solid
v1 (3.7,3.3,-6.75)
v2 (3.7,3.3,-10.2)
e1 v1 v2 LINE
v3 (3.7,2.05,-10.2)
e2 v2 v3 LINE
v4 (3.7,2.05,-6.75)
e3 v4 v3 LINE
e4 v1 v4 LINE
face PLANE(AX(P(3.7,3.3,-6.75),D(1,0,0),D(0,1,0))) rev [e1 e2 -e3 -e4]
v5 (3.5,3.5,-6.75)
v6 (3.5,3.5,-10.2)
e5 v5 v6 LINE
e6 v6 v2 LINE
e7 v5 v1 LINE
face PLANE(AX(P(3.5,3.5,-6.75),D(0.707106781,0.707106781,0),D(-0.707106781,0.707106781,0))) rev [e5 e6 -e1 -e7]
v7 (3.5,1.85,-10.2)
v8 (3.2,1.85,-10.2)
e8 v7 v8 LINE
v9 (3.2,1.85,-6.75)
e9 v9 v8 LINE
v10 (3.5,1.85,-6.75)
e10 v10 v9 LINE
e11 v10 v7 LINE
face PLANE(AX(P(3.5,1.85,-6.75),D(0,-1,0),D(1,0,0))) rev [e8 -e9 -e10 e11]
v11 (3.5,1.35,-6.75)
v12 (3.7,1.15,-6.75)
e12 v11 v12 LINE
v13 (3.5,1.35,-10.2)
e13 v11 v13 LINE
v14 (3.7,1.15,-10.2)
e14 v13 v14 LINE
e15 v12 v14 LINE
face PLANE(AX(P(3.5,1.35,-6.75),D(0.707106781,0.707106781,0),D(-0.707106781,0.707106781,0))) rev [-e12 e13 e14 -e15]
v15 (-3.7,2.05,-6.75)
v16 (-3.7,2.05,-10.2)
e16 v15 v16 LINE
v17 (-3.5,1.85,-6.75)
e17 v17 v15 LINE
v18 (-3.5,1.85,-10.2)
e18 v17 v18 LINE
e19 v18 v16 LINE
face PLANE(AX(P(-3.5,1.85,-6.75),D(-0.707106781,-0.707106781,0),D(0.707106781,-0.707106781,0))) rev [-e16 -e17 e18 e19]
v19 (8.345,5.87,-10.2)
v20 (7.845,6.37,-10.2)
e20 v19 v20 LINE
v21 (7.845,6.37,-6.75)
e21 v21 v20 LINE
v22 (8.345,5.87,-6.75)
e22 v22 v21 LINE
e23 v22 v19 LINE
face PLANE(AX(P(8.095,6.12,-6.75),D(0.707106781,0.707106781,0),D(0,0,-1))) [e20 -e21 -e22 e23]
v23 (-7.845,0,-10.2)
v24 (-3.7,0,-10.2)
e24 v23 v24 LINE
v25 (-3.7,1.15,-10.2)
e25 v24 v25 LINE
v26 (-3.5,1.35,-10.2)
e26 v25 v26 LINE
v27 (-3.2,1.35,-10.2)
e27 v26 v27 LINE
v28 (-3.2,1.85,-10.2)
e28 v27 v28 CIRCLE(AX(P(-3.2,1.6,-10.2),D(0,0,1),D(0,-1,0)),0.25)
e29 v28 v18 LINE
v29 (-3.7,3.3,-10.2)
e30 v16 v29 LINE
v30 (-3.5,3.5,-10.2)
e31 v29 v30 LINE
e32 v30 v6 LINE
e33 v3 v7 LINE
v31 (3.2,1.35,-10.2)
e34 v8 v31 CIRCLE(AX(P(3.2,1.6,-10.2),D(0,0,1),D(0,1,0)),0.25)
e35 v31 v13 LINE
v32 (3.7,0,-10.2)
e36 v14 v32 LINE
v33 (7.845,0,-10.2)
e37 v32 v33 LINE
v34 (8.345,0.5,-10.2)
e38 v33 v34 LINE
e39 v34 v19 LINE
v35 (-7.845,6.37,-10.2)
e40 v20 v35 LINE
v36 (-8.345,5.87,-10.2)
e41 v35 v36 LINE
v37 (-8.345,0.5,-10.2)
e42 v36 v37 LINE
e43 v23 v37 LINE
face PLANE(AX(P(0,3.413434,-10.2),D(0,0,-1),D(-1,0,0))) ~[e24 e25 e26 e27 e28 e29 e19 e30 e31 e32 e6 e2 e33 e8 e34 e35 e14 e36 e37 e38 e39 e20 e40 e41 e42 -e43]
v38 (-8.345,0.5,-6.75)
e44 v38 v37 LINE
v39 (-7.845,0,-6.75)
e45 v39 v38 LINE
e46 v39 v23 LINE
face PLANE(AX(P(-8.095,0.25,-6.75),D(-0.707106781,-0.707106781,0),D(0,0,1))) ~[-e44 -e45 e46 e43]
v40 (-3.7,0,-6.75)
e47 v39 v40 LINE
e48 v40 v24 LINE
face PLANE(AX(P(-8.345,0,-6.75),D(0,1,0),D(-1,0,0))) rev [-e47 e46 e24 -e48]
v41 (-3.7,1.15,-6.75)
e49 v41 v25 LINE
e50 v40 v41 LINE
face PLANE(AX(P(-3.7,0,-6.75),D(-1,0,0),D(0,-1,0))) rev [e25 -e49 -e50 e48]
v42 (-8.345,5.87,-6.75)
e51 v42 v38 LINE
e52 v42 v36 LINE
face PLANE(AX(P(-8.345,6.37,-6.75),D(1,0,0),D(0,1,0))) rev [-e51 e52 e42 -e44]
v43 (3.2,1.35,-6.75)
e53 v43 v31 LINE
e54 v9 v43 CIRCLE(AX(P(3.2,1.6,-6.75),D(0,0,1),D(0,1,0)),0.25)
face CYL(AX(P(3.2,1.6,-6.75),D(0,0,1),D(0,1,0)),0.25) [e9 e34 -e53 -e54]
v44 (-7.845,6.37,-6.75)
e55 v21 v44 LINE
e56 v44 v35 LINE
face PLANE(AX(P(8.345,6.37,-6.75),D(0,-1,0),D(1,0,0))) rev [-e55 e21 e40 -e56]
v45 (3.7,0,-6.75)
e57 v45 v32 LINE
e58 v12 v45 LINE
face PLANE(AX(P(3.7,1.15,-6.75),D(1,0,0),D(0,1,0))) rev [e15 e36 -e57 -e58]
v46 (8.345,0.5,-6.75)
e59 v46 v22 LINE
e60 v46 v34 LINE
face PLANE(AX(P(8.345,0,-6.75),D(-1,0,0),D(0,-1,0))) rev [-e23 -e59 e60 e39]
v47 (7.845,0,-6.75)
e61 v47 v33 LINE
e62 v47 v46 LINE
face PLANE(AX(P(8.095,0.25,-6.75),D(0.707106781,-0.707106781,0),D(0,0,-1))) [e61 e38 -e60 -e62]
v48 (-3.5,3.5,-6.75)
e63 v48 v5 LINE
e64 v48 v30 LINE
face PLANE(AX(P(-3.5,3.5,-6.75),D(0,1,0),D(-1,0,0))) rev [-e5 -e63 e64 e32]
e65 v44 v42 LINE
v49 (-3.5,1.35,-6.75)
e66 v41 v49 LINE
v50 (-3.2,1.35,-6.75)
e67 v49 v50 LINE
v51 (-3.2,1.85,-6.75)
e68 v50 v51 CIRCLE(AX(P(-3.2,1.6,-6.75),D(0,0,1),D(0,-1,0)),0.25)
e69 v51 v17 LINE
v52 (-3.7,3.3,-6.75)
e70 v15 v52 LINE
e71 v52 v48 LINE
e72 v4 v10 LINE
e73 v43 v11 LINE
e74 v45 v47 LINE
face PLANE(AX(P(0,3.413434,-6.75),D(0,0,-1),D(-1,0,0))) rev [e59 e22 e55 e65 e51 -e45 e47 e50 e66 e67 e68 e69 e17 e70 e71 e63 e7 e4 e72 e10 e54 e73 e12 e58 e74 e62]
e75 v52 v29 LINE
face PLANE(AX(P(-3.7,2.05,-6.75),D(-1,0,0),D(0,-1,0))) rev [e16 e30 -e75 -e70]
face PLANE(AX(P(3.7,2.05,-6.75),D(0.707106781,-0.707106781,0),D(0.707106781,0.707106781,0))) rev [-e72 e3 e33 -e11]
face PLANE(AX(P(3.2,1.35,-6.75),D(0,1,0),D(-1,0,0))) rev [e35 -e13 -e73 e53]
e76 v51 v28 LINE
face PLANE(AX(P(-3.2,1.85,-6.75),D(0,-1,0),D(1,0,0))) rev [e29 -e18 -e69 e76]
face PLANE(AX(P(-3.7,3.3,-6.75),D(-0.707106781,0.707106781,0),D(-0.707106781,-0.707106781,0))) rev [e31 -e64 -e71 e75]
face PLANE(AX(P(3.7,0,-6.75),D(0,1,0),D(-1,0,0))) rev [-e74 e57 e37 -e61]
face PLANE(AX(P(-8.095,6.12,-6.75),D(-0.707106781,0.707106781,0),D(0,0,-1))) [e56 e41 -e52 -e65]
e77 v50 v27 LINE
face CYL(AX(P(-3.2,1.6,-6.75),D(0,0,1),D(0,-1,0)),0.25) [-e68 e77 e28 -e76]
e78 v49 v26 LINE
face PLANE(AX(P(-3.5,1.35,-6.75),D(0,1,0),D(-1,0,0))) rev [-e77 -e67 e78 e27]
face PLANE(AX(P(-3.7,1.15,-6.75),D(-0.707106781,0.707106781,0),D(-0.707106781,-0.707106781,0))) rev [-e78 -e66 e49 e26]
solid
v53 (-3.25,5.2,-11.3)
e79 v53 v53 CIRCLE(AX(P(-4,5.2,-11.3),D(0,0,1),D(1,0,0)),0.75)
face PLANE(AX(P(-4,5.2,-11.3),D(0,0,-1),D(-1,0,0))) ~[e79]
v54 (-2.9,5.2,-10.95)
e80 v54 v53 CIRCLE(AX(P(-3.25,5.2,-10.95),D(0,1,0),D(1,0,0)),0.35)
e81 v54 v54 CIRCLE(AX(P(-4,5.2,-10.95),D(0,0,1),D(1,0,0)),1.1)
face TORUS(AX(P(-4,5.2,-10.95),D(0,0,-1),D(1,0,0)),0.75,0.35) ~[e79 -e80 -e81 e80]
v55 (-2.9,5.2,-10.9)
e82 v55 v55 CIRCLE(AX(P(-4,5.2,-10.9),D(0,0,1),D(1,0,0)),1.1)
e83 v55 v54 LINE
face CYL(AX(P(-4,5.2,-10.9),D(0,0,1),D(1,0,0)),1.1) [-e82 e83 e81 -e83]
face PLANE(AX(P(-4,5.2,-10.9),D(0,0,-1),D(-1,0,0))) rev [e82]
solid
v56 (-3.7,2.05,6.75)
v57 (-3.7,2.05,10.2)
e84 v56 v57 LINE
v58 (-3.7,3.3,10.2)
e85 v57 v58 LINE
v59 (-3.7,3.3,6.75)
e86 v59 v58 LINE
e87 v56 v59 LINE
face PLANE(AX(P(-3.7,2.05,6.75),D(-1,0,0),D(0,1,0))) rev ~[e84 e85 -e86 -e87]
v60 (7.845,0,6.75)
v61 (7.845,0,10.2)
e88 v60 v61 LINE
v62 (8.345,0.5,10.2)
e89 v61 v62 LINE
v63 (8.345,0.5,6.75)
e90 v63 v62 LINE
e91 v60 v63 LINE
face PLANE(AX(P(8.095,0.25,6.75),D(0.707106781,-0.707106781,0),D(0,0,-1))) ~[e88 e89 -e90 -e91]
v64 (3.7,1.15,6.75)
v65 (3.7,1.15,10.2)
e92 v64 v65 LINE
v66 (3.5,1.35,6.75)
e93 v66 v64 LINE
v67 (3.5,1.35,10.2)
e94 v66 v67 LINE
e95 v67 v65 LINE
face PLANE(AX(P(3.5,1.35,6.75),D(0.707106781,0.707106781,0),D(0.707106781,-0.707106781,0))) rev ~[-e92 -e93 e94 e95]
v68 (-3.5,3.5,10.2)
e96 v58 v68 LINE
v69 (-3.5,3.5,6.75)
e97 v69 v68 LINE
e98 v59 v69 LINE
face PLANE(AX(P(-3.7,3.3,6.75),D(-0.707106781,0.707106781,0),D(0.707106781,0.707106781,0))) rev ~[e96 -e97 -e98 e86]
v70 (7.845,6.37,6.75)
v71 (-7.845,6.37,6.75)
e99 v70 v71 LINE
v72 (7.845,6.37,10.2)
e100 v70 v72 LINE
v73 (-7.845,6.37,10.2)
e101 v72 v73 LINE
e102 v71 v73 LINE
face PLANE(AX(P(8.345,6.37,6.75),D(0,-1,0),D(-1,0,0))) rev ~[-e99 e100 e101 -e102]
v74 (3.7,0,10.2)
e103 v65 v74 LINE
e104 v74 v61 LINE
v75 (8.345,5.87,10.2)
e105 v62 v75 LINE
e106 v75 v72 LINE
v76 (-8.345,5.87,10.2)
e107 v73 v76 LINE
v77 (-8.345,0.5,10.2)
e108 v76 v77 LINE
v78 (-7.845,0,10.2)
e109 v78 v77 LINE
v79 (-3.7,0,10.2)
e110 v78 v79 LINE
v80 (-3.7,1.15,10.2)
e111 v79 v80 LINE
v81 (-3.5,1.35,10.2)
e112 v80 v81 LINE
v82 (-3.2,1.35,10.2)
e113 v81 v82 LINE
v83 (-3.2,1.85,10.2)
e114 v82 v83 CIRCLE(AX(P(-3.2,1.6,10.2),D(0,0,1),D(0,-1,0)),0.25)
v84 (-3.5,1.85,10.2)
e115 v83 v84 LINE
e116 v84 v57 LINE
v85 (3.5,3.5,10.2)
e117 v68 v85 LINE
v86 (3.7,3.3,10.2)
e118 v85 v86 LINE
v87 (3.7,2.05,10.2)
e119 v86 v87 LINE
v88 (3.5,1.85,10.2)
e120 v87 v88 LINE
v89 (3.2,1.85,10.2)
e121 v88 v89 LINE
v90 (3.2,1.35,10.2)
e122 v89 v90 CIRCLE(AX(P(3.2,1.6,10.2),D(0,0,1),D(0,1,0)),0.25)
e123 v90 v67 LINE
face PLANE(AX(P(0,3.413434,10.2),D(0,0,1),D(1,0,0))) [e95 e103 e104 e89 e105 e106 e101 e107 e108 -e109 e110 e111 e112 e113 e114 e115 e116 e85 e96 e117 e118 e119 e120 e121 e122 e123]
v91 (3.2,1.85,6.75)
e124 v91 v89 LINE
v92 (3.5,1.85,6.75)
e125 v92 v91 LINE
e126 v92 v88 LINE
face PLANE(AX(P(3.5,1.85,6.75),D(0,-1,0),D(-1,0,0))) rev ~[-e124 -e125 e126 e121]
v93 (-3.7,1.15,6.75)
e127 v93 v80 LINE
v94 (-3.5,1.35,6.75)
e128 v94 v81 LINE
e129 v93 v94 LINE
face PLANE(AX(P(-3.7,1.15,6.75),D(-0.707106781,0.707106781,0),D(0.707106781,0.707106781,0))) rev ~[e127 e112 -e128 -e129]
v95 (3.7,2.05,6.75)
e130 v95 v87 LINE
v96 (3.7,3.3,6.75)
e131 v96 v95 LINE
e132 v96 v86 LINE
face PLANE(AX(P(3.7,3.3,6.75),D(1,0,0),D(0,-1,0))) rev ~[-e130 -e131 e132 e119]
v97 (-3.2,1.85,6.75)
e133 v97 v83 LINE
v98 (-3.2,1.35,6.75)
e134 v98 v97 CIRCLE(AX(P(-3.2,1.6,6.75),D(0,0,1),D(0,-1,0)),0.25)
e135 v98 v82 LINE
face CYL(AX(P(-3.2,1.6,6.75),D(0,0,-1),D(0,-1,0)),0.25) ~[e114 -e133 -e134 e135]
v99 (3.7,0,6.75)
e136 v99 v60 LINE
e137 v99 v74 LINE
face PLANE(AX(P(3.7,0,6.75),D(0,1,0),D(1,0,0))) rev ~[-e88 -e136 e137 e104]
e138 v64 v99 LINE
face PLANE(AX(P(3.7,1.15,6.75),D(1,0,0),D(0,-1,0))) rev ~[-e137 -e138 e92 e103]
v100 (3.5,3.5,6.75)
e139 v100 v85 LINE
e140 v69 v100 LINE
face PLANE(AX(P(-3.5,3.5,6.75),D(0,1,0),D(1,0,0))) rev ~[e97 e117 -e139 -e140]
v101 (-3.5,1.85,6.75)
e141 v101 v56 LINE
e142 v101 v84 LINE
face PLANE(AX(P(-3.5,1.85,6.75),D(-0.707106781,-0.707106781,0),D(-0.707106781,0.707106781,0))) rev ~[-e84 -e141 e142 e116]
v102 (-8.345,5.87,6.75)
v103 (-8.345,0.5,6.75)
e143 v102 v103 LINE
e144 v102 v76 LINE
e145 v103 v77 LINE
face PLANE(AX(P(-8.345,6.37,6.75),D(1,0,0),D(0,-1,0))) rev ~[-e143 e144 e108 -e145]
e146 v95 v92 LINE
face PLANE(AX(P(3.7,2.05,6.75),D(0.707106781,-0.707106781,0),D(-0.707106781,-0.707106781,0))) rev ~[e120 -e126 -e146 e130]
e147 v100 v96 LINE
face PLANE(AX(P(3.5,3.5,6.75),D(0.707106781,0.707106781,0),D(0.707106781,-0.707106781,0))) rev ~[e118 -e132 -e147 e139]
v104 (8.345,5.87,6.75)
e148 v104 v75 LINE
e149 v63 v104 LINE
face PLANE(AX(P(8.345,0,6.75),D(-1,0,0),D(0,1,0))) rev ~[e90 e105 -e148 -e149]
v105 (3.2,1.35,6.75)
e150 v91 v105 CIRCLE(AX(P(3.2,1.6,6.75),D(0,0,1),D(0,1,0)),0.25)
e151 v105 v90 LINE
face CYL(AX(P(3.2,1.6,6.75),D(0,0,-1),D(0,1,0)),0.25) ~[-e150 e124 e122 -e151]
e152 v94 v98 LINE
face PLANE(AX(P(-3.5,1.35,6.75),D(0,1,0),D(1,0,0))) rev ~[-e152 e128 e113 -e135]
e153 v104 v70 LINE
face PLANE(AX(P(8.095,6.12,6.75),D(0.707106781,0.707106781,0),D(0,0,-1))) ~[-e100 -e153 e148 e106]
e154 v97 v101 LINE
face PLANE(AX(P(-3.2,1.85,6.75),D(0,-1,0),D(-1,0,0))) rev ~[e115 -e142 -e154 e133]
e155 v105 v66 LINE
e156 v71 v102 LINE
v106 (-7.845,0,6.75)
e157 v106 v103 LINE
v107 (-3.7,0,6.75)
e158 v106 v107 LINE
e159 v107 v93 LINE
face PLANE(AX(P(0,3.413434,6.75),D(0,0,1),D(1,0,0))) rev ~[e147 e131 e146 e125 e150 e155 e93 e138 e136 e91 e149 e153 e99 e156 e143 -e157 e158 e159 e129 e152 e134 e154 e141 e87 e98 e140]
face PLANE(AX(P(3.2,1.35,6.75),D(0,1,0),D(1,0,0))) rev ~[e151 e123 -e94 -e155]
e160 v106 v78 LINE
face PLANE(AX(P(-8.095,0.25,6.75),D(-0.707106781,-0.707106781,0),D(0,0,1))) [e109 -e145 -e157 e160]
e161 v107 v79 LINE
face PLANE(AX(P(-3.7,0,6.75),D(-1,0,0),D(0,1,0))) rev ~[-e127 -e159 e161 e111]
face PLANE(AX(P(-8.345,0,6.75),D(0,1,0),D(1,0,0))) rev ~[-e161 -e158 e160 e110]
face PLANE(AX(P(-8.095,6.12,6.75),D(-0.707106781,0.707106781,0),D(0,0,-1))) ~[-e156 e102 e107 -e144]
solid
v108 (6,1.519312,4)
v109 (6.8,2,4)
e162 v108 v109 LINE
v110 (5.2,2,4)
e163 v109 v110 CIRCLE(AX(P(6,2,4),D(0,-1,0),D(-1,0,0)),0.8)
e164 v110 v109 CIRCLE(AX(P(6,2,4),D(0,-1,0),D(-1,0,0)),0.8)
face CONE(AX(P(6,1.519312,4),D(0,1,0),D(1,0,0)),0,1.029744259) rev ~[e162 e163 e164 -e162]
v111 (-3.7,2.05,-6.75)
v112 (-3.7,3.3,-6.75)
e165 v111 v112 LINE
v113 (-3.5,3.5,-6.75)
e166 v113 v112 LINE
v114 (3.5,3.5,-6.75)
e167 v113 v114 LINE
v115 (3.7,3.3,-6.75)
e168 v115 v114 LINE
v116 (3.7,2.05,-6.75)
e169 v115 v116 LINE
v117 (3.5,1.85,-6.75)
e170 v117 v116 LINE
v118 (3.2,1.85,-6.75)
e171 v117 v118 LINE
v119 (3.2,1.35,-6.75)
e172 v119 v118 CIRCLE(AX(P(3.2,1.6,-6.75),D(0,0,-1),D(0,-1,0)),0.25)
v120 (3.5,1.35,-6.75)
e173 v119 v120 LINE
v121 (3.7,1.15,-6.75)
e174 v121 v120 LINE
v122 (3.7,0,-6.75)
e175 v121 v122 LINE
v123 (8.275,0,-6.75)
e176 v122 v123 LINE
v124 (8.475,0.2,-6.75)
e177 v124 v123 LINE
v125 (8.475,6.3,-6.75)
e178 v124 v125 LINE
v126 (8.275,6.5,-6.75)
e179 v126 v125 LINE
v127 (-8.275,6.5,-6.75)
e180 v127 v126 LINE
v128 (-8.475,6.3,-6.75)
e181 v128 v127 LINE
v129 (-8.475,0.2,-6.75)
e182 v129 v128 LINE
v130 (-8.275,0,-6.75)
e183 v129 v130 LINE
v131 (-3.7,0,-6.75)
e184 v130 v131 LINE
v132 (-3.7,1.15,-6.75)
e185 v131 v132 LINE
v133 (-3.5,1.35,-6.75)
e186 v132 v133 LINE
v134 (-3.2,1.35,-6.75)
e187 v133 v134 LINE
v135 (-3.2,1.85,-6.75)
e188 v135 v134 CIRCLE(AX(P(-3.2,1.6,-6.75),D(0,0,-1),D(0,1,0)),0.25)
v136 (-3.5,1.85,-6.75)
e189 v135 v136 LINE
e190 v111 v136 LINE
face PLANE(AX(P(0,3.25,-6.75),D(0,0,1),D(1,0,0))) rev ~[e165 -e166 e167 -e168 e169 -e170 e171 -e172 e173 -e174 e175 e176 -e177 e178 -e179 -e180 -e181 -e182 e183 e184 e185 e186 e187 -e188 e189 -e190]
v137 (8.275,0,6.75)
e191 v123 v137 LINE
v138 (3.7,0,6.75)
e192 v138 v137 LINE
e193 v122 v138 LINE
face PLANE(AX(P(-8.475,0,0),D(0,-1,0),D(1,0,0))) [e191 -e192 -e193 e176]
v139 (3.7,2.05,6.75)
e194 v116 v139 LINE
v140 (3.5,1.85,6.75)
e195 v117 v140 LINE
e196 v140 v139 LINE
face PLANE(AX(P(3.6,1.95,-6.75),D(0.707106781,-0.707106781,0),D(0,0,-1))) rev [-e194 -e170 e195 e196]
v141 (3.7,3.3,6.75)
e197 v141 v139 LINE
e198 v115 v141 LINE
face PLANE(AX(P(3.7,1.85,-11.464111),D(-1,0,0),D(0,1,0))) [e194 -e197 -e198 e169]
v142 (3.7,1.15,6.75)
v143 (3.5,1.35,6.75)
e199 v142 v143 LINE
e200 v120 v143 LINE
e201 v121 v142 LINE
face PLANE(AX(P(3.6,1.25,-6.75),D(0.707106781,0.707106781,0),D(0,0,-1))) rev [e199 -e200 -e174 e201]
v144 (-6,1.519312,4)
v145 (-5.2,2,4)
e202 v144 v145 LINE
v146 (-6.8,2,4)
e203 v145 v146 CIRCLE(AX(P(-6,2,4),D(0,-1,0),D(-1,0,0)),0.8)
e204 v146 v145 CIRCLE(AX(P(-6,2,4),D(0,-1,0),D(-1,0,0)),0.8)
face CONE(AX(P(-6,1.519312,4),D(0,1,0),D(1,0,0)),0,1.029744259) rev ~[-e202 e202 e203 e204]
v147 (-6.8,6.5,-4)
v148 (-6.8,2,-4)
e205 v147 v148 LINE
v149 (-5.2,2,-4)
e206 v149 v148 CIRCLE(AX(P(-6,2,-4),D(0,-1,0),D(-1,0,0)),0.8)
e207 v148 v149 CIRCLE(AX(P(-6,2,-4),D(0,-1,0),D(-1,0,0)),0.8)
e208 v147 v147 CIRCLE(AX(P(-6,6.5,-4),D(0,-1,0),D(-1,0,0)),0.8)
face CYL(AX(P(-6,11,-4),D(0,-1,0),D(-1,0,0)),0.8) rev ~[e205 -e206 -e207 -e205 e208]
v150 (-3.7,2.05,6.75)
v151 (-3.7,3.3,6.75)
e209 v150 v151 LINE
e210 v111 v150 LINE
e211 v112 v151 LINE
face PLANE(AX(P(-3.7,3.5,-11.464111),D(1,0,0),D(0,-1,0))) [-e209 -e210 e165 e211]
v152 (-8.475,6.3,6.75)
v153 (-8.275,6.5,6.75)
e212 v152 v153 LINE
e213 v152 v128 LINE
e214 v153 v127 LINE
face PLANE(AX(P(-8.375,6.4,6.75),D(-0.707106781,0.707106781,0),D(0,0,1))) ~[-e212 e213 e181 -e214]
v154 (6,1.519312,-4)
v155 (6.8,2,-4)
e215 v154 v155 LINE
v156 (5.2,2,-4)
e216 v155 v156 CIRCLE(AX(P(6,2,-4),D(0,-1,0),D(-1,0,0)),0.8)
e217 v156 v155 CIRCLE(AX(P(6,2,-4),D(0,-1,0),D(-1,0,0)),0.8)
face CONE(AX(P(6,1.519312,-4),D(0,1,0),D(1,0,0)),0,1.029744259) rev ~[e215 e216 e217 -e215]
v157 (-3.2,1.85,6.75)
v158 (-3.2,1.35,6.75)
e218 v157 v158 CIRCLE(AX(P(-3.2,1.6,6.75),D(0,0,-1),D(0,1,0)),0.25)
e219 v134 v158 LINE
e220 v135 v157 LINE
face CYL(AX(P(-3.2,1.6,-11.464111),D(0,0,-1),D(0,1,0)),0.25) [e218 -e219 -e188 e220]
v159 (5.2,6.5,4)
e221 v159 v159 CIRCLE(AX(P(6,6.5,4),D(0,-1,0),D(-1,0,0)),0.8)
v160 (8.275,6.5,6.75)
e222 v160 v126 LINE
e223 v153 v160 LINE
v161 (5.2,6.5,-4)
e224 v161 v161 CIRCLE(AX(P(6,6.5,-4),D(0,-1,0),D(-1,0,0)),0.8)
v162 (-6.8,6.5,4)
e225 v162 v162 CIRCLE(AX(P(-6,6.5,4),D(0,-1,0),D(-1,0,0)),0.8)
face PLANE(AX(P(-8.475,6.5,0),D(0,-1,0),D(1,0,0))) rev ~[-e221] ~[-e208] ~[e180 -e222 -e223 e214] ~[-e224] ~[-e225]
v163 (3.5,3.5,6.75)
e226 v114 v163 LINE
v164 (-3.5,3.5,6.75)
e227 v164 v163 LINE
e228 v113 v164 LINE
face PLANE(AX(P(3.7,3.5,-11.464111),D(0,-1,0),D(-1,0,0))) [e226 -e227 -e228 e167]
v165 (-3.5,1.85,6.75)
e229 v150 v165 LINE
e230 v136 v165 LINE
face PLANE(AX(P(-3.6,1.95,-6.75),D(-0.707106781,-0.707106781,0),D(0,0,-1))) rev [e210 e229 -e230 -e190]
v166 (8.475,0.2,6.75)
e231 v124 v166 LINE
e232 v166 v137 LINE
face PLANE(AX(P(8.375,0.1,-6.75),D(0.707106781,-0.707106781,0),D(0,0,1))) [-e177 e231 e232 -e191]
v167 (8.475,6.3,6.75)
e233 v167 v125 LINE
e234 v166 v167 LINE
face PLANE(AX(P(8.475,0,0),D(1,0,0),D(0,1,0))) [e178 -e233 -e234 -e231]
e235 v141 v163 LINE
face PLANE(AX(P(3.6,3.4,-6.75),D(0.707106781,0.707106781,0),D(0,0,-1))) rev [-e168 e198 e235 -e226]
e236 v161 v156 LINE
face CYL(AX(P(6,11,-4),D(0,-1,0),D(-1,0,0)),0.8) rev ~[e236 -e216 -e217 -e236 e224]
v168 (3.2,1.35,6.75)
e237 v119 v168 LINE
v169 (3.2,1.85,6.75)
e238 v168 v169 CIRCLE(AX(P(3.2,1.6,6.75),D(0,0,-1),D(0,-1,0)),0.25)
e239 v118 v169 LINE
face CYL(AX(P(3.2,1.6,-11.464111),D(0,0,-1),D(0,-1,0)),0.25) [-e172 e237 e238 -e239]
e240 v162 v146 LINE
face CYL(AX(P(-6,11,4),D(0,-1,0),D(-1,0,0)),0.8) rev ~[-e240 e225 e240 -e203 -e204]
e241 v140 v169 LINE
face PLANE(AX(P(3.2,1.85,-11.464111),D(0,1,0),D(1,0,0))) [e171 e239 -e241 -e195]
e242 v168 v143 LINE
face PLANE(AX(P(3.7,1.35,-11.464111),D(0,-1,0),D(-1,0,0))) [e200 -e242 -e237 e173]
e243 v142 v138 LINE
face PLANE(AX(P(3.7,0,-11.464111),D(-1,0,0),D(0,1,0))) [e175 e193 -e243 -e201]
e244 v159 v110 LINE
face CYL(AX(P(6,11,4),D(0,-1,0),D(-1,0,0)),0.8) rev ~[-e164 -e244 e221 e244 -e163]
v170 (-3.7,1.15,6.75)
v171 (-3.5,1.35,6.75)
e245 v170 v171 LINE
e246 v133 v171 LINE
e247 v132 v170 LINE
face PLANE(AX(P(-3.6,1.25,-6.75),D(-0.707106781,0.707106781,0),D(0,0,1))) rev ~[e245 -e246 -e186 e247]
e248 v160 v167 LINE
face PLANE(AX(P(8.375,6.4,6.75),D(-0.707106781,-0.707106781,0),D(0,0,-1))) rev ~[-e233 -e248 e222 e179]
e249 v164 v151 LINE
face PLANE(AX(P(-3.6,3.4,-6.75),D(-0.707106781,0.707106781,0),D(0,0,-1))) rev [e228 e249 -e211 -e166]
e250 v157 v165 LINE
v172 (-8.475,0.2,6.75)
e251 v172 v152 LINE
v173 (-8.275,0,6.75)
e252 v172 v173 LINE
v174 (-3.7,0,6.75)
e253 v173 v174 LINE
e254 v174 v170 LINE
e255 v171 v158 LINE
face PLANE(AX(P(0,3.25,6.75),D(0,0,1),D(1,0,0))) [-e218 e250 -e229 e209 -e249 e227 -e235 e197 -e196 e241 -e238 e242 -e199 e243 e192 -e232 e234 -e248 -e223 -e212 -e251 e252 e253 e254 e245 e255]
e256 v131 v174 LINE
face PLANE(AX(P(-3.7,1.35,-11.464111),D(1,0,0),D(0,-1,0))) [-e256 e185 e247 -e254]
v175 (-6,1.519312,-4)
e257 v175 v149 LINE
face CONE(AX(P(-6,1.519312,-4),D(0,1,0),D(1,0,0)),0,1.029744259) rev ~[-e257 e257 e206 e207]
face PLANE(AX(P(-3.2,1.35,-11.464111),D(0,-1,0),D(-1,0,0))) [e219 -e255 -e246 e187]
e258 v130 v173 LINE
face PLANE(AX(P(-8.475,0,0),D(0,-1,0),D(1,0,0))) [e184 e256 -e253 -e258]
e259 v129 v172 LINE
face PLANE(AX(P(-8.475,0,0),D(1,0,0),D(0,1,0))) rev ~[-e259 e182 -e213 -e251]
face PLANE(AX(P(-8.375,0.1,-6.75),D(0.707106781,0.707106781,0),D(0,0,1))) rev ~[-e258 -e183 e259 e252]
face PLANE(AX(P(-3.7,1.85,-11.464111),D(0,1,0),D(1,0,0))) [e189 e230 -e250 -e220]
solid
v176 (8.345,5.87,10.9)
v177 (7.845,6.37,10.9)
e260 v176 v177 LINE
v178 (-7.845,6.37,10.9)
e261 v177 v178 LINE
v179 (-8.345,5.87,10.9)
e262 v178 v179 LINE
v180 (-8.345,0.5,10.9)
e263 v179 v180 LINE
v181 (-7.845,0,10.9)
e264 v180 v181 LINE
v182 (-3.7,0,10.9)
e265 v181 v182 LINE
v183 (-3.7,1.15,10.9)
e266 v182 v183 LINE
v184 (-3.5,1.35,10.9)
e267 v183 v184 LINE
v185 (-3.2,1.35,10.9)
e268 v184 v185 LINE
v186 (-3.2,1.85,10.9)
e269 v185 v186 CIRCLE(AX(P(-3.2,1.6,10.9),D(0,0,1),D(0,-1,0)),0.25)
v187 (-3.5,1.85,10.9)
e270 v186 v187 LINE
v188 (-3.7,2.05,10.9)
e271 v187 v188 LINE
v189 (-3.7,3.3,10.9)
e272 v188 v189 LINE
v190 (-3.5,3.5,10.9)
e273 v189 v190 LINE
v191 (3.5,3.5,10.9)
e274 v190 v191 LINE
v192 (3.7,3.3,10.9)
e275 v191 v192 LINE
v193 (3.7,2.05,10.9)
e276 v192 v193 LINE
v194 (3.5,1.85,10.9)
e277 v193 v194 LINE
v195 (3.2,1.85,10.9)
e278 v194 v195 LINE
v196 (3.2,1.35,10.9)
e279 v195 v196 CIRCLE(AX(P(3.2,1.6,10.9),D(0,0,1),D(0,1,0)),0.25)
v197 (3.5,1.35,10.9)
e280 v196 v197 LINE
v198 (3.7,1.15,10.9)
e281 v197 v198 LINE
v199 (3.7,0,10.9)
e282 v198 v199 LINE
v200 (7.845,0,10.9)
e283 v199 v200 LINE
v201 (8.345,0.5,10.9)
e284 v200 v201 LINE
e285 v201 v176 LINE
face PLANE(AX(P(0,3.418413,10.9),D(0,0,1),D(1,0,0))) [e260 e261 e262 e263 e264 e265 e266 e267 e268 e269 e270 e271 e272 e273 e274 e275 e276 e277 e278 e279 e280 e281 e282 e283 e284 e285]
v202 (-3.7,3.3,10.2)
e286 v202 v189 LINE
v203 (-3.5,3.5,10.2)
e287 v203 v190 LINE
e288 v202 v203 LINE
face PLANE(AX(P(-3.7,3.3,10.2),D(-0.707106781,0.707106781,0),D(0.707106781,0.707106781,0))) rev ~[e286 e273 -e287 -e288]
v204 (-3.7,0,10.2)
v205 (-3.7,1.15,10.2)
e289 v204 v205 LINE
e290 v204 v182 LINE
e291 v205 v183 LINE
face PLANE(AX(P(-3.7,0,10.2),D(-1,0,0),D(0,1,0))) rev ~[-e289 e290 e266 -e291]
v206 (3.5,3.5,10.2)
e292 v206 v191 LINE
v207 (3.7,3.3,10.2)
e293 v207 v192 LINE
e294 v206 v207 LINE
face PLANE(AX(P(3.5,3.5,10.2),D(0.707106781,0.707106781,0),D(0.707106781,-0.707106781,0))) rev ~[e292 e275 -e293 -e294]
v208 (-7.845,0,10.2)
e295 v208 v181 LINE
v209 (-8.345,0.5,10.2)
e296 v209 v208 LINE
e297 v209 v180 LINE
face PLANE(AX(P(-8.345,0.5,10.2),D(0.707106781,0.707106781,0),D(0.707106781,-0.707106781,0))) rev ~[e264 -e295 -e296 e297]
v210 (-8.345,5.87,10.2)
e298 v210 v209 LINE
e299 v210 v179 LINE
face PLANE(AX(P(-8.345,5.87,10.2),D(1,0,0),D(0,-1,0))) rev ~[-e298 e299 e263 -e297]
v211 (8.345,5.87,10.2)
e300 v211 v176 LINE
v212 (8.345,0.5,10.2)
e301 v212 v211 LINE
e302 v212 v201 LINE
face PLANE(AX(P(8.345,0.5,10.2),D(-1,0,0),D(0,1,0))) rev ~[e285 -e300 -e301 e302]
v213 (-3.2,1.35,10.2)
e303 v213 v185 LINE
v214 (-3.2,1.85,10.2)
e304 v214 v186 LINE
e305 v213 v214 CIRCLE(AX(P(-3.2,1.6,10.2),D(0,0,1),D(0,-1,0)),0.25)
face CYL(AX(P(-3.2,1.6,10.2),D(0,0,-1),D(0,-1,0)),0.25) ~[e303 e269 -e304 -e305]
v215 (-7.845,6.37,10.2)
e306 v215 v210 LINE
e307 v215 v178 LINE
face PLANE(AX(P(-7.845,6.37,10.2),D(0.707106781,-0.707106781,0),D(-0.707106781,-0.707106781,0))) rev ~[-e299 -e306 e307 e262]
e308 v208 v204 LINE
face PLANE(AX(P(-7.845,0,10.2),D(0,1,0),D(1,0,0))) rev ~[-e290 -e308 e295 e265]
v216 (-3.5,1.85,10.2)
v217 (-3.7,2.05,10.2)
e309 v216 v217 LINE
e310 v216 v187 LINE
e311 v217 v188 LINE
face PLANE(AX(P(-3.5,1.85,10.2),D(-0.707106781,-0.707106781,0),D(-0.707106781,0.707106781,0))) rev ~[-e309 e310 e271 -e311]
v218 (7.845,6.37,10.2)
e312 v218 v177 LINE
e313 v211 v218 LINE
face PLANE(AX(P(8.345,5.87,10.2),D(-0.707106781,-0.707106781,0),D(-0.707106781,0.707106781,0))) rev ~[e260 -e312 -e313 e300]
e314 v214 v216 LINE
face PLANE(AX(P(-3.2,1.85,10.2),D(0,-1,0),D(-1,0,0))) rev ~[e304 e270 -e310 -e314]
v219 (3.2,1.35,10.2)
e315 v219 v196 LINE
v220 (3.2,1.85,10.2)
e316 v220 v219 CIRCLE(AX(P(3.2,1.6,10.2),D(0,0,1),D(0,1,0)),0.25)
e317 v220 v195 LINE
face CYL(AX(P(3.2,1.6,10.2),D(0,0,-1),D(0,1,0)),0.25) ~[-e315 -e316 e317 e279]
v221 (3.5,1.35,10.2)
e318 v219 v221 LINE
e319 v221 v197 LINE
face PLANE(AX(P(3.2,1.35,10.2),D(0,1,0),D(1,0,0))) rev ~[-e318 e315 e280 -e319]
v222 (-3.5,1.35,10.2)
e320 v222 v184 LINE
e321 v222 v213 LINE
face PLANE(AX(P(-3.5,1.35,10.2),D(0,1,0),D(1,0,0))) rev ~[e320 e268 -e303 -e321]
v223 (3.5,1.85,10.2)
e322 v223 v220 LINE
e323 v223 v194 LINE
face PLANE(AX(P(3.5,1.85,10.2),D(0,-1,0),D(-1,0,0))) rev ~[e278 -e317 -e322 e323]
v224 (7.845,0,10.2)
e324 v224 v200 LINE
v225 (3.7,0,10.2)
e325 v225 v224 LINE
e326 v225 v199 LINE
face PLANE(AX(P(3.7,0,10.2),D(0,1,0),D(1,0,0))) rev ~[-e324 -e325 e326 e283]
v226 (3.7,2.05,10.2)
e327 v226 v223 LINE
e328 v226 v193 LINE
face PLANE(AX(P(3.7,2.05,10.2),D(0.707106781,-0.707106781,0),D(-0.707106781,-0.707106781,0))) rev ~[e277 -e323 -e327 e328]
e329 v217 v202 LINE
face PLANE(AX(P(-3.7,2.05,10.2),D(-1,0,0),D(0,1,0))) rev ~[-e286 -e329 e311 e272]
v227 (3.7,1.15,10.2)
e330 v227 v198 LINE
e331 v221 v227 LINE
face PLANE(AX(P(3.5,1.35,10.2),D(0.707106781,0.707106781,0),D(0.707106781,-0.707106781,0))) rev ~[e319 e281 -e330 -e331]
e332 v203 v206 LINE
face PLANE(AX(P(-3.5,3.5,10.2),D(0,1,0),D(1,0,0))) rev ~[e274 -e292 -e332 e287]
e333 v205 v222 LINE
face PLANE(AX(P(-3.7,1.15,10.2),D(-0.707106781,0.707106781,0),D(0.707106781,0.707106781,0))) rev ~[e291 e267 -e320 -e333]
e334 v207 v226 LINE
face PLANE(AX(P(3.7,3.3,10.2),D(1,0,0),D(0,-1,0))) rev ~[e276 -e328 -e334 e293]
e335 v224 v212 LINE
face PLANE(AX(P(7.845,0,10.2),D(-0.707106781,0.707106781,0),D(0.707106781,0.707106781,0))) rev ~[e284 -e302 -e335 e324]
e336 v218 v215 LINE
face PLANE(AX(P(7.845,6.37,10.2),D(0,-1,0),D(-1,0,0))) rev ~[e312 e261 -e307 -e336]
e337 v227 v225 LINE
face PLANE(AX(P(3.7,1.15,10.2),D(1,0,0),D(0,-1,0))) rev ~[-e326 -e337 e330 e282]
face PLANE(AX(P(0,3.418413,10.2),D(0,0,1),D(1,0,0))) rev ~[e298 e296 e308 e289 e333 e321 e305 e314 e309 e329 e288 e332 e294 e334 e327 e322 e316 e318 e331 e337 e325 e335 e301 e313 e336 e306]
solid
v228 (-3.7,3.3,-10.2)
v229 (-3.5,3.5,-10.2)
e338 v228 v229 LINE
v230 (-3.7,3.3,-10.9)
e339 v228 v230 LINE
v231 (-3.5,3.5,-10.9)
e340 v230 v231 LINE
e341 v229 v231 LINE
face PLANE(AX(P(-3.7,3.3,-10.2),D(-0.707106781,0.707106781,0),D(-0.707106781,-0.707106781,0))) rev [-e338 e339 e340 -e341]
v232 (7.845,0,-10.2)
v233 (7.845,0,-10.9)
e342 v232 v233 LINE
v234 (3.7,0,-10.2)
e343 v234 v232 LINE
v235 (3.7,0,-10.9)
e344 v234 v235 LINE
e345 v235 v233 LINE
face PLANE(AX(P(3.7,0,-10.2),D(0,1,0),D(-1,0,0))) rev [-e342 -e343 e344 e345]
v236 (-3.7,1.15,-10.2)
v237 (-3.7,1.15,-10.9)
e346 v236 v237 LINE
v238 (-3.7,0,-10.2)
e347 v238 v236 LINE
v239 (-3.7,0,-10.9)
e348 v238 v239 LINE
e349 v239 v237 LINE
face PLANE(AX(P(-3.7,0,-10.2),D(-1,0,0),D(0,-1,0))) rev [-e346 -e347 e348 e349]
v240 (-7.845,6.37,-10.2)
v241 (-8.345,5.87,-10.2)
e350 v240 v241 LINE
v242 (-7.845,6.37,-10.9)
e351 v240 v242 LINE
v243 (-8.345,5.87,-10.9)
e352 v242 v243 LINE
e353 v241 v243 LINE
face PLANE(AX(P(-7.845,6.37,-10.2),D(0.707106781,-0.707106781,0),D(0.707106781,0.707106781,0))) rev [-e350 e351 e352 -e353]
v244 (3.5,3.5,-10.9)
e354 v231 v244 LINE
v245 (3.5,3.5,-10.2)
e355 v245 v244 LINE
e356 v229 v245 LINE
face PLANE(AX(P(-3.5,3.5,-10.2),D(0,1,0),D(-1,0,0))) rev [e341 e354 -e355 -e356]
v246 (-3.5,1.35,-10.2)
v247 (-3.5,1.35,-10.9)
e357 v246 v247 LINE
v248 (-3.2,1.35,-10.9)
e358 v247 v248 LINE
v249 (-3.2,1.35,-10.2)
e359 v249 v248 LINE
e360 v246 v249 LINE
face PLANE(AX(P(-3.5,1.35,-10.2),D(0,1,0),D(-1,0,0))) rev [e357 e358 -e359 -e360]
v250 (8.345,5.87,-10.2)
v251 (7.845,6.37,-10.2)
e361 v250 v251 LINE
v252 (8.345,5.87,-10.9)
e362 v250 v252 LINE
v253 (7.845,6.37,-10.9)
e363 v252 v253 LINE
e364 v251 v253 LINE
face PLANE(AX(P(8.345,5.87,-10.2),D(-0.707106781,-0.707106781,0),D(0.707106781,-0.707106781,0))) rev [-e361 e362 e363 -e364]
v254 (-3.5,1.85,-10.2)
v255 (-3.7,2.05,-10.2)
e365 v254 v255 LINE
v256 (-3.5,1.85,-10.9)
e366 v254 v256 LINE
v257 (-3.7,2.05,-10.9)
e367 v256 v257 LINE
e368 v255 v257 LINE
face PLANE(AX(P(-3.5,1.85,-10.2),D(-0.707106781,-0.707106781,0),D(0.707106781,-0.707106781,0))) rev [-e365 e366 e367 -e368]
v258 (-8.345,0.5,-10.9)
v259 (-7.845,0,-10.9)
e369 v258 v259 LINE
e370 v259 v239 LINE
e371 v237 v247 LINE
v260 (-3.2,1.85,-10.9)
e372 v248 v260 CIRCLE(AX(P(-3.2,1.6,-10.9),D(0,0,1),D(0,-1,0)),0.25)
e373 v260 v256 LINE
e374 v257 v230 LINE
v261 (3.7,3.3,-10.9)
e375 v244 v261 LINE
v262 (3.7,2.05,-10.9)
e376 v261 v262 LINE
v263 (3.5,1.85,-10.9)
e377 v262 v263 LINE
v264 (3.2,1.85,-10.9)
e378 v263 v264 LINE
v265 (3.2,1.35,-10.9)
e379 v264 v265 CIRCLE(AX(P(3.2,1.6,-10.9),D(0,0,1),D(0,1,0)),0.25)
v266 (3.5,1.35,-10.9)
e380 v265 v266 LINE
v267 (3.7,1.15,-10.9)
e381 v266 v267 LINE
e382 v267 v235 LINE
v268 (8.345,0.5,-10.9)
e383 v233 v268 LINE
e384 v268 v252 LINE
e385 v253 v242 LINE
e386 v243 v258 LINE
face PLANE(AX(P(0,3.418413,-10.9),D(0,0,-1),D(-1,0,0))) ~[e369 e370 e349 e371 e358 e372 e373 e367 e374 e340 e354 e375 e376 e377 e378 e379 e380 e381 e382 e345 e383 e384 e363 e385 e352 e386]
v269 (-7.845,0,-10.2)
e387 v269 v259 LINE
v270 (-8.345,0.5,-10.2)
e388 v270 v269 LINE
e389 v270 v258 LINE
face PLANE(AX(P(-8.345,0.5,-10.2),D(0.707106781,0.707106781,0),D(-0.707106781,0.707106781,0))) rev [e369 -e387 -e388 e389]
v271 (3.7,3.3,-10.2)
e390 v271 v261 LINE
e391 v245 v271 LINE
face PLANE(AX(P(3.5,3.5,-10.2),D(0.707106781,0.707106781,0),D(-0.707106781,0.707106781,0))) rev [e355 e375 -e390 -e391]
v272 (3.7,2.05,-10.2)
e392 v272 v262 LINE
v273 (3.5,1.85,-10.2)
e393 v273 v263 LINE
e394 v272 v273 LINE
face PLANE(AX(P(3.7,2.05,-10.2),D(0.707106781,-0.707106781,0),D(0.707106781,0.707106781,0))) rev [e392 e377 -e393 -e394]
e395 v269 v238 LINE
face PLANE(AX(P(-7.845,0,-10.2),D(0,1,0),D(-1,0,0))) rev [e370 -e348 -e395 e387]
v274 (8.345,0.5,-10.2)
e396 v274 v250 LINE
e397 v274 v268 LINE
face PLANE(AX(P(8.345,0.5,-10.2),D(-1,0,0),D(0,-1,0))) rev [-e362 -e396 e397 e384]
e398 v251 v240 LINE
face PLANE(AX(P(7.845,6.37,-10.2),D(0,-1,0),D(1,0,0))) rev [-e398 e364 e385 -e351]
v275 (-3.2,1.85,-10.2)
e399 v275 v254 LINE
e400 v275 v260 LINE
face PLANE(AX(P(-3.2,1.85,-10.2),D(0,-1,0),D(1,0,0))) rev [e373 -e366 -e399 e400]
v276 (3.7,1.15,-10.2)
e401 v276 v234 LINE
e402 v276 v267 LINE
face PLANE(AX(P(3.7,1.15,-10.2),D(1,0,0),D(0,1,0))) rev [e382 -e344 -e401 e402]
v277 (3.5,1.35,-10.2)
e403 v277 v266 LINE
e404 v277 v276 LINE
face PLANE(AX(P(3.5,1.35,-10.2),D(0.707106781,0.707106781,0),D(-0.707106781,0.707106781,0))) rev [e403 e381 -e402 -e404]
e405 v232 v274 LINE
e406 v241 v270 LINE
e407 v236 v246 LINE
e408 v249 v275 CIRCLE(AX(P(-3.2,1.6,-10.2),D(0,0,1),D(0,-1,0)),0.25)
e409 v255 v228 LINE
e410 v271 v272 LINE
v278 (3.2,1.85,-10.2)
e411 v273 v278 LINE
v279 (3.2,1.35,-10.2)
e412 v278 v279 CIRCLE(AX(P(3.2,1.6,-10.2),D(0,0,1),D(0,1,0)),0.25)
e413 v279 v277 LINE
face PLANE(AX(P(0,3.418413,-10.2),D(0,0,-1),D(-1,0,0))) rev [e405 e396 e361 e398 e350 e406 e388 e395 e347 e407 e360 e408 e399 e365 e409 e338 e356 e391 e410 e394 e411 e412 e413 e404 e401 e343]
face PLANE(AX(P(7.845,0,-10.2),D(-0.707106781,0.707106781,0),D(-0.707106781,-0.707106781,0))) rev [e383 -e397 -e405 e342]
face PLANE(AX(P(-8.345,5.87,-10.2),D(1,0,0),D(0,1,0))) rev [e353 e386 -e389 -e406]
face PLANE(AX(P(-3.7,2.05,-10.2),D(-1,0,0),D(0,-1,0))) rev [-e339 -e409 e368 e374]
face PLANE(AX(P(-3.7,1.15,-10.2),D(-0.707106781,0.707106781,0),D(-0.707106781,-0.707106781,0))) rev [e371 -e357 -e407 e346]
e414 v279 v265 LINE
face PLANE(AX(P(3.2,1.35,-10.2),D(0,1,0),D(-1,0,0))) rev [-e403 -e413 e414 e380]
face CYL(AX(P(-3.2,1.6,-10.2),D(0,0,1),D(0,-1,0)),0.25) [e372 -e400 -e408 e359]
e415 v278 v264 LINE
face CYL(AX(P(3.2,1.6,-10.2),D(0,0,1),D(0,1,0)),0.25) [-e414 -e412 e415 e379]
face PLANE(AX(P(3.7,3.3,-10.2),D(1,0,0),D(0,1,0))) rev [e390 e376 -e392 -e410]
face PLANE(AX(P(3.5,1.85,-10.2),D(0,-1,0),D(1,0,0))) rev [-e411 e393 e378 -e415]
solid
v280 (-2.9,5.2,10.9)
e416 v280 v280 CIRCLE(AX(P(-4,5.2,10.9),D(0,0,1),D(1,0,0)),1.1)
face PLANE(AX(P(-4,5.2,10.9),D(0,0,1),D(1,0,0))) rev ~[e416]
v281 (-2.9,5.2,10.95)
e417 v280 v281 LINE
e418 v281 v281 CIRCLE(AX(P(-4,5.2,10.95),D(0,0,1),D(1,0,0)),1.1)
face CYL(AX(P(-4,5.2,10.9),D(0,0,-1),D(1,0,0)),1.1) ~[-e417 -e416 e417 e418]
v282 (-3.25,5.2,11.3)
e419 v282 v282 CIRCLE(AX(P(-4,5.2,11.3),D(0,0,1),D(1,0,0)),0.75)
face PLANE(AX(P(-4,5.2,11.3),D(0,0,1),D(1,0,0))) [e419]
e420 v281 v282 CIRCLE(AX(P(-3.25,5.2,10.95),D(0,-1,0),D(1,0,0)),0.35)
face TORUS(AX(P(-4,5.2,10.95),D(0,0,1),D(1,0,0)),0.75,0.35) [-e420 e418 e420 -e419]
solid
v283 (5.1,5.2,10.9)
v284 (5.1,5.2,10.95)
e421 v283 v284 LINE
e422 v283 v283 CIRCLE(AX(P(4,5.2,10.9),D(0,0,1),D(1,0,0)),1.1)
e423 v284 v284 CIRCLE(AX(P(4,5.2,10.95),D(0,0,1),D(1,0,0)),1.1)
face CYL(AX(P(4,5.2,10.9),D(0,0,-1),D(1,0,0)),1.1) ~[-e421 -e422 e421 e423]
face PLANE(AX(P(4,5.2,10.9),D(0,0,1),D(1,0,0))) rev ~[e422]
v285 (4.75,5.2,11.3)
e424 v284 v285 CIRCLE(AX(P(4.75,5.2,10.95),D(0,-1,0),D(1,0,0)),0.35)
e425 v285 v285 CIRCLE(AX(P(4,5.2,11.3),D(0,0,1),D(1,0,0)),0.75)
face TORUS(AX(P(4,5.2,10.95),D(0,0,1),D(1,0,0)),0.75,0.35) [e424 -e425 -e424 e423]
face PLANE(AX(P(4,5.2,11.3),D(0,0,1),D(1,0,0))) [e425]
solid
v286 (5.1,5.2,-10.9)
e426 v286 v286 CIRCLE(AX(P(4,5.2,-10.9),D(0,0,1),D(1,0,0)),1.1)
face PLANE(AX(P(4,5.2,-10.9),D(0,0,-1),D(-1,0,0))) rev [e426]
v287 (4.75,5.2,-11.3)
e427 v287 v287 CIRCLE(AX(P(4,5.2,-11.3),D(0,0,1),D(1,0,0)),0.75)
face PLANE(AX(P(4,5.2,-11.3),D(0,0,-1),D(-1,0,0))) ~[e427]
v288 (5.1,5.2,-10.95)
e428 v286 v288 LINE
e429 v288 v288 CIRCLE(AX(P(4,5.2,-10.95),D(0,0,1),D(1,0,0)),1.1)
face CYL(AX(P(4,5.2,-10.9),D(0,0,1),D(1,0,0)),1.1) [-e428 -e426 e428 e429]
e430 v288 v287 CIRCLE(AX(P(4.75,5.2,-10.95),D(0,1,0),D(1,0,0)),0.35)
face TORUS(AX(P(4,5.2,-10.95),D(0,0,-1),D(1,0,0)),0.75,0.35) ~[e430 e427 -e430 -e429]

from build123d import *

# Parameters (mm, degrees)
SKETCH1_W                       = 16.95
SKETCH1_H                       = 6.5
BOSS_EXTRUDE1_DEPTH             = 6.75
CUT_EXTRUDE1_DEPTH              = 18.214111217
CUT_EXTRUDE1_DEPTH_BACK         = 18.214111217
CHAMFER1_SIZE                   = 0.2
TAP_DRILL_FOR_M2X0_4_TAP1_D     = 1.6
TAP_DRILL_FOR_M2X0_4_TAP1_DEPTH = 4.5
TAP_DRILL_FOR_M2X0_4_TAP1_TIP   = 0.480688495
BOSS_EXTRUDE2_DEPTH             = 3.45
CHAMFER2_SIZE                   = 0.5
BOSS_EXTRUDE3_DEPTH             = 0.7
SKETCH7_R                       = 1.1
BOSS_EXTRUDE4_DEPTH             = 0.4
BOSS_EXTRUDE4_2_DEPTH           = 0.4
FILLET1_R                       = 0.35
FILLET2_R                       = 0.35


with BuildPart() as part:
    # Sketch1 → Boss-Extrude1 (new, symmetric)
    with BuildSketch(Plane.XY):
        with Locations((0, 3.25)):
            Rectangle(SKETCH1_W, SKETCH1_H)
    extrude(amount=BOSS_EXTRUDE1_DEPTH, both=True)

    # Sketch2 → Cut-Extrude1 (cut, two sides: drawn at the far end of the back side and taken through both)
    with BuildSketch(Plane.XY.offset(6.75).offset(-CUT_EXTRUDE1_DEPTH_BACK)):
        with BuildLine():
            Line((-3.7, 0), (3.7, 0))
            Line((3.7, 0), (3.7, 1.35))
            Line((3.7, 1.35), (3.2, 1.35))
            ThreePointArc((3.2, 1.35), (2.95, 1.6), (3.2, 1.85))
            Line((3.2, 1.85), (3.7, 1.85))
            Line((3.7, 1.85), (3.7, 3.5))
            Line((3.7, 3.5), (-3.7, 3.5))
            Line((-3.7, 3.5), (-3.7, 1.85))
            Line((-3.7, 1.85), (-3.2, 1.85))
            ThreePointArc((-3.2, 1.85), (-2.95, 1.6), (-3.2, 1.35))
            Line((-3.2, 1.35), (-3.7, 1.35))
            Line((-3.7, 1.35), (-3.7, 0))
        make_face()
    extrude(amount=CUT_EXTRUDE1_DEPTH + CUT_EXTRUDE1_DEPTH_BACK, mode=Mode.SUBTRACT)

    # Chamfer1
    chamfer1_edges = [part.edges().sort_by_distance(p)[0] for p in [
        (3.7, 1.35, 0),
        (-3.7, 1.35, 0),
        (-3.7, 1.85, 0),
        (-3.7, 3.5, 0),
        (3.7, 3.5, 0),
        (3.7, 1.85, 0),
        (8.475, 0, 0),
        (-8.475, 0, 0),
        (-8.475, 6.5, 0),
        (8.475, 6.5, 0),
    ]]
    chamfer(chamfer1_edges, length=CHAMFER1_SIZE)

    # Tap Drill for M2x0.4 Tap1
    with Locations(Plane(origin=(0, 6.5, 0), x_dir=(1, 0, 0), z_dir=(0, 1, 0))):
        with Locations((-6, 4), (6, 4), (-6, -4), (6, -4)):
            Hole(TAP_DRILL_FOR_M2X0_4_TAP1_D / 2, depth=TAP_DRILL_FOR_M2X0_4_TAP1_DEPTH)
            with Locations((0, 0, -(TAP_DRILL_FOR_M2X0_4_TAP1_DEPTH + TAP_DRILL_FOR_M2X0_4_TAP1_TIP / 2))):  # 118° drill point
                Cone(0, TAP_DRILL_FOR_M2X0_4_TAP1_D / 2, TAP_DRILL_FOR_M2X0_4_TAP1_TIP, mode=Mode.SUBTRACT)


with BuildPart() as body_2:
    # Sketch5 → Boss-Extrude2 (new body)
    with BuildSketch(Plane.XY.offset(6.75)):
        with BuildLine():
            Line((-8.345, 0), (-3.7, 0))
            Line((-3.7, 0), (-3.7, 1.15))
            Line((-3.7, 1.15), (-3.5, 1.35))
            Line((-3.5, 1.35), (-3.2, 1.35))
            ThreePointArc((-3.2, 1.35), (-2.95, 1.6), (-3.2, 1.85))
            Line((-3.2, 1.85), (-3.5, 1.85))
            Line((-3.5, 1.85), (-3.7, 2.05))
            Line((-3.7, 2.05), (-3.7, 3.3))
            Line((-3.7, 3.3), (-3.5, 3.5))
            Line((-3.5, 3.5), (3.5, 3.5))
            Line((3.5, 3.5), (3.7, 3.3))
            Line((3.7, 3.3), (3.7, 2.05))
            Line((3.7, 2.05), (3.5, 1.85))
            Line((3.5, 1.85), (3.2, 1.85))
            ThreePointArc((3.2, 1.85), (2.95, 1.6), (3.2, 1.35))
            Line((3.2, 1.35), (3.5, 1.35))
            Line((3.5, 1.35), (3.7, 1.15))
            Line((3.7, 1.15), (3.7, 0))
            Line((3.7, 0), (8.345, 0))
            Line((8.345, 0), (8.345, 6.37))
            Line((8.345, 6.37), (-8.345, 6.37))
            Line((-8.345, 6.37), (-8.345, 0))
        make_face()
    extrude(amount=BOSS_EXTRUDE2_DEPTH)

    # Chamfer2
    chamfer2_edges = [body_2.edges().sort_by_distance(p)[0] for p in [
        (-8.345, 0, 8.475),
        (8.345, 0, 8.475),
        (8.345, 6.37, 8.475),
        (-8.345, 6.37, 8.475),
    ]]
    chamfer(chamfer2_edges, length=CHAMFER2_SIZE)


with BuildPart() as body_3:
    # Sketch6 → Boss-Extrude3 (new body)
    with BuildSketch(Plane.XY.offset(10.2)):
        with BuildLine():
            Line((-8.345, 5.87), (-8.345, 0.5))
            Line((-8.345, 0.5), (-7.845, 0))
            Line((-7.845, 0), (-3.7, 0))
            Line((-3.7, 0), (-3.7, 1.15))
            Line((-3.7, 1.15), (-3.5, 1.35))
            Line((-3.5, 1.35), (-3.2, 1.35))
            ThreePointArc((-3.2, 1.35), (-2.95, 1.6), (-3.2, 1.85))
            Line((-3.2, 1.85), (-3.5, 1.85))
            Line((-3.5, 1.85), (-3.7, 2.05))
            Line((-3.7, 2.05), (-3.7, 3.3))
            Line((-3.7, 3.3), (-3.5, 3.5))
            Line((-3.5, 3.5), (3.5, 3.5))
            Line((3.5, 3.5), (3.7, 3.3))
            Line((3.7, 3.3), (3.7, 2.05))
            Line((3.7, 2.05), (3.5, 1.85))
            Line((3.5, 1.85), (3.2, 1.85))
            ThreePointArc((3.2, 1.85), (2.95, 1.6), (3.2, 1.35))
            Line((3.2, 1.35), (3.5, 1.35))
            Line((3.5, 1.35), (3.7, 1.15))
            Line((3.7, 1.15), (3.7, 0))
            Line((3.7, 0), (7.845, 0))
            Line((7.845, 0), (8.345, 0.5))
            Line((8.345, 0.5), (8.345, 5.87))
            Line((8.345, 5.87), (7.845, 6.37))
            Line((7.845, 6.37), (-7.845, 6.37))
            Line((-7.845, 6.37), (-8.345, 5.87))
        make_face()
    extrude(amount=BOSS_EXTRUDE3_DEPTH)


with BuildPart() as body_4:
    # Sketch7 → Boss-Extrude4 (new body)
    with BuildSketch(Plane.XY.offset(10.9)):
        with Locations((-4, 5.2)):
            Circle(SKETCH7_R)
    extrude(amount=BOSS_EXTRUDE4_DEPTH)

    # Fillet1
    fillet1_edges = [body_4.edges().sort_by_distance(p)[0] for p in [
        (-5.1, 5.2, 11.3),
    ]]
    fillet(fillet1_edges, radius=FILLET1_R)


with BuildPart() as body_5:
    # Sketch7 → Boss-Extrude4 2 (new body)
    with BuildSketch(Plane.XY.offset(10.9)):
        with Locations((4, 5.2)):
            Circle(SKETCH7_R)
    extrude(amount=BOSS_EXTRUDE4_2_DEPTH)

    # Fillet2
    fillet2_edges = [body_5.edges().sort_by_distance(p)[0] for p in [
        (2.9, 5.2, 11.3),
    ]]
    fillet(fillet2_edges, radius=FILLET2_R)


with BuildPart() as body_6:
    # Mirror1: mirrored copy
    add(body_2.part.mirror(Plane.XY))


with BuildPart() as body_7:
    # Mirror1 2: mirrored copy
    add(body_3.part.mirror(Plane.XY))


with BuildPart() as body_8:
    # Mirror1 3: mirrored copy
    add(body_4.part.mirror(Plane.XY))


with BuildPart() as body_9:
    # Mirror1 4: mirrored copy
    add(body_5.part.mirror(Plane.XY))


solid = Compound([part.part, body_2.part, body_3.part, body_4.part, body_5.part, body_6.part, body_7.part, body_8.part, body_9.part])
